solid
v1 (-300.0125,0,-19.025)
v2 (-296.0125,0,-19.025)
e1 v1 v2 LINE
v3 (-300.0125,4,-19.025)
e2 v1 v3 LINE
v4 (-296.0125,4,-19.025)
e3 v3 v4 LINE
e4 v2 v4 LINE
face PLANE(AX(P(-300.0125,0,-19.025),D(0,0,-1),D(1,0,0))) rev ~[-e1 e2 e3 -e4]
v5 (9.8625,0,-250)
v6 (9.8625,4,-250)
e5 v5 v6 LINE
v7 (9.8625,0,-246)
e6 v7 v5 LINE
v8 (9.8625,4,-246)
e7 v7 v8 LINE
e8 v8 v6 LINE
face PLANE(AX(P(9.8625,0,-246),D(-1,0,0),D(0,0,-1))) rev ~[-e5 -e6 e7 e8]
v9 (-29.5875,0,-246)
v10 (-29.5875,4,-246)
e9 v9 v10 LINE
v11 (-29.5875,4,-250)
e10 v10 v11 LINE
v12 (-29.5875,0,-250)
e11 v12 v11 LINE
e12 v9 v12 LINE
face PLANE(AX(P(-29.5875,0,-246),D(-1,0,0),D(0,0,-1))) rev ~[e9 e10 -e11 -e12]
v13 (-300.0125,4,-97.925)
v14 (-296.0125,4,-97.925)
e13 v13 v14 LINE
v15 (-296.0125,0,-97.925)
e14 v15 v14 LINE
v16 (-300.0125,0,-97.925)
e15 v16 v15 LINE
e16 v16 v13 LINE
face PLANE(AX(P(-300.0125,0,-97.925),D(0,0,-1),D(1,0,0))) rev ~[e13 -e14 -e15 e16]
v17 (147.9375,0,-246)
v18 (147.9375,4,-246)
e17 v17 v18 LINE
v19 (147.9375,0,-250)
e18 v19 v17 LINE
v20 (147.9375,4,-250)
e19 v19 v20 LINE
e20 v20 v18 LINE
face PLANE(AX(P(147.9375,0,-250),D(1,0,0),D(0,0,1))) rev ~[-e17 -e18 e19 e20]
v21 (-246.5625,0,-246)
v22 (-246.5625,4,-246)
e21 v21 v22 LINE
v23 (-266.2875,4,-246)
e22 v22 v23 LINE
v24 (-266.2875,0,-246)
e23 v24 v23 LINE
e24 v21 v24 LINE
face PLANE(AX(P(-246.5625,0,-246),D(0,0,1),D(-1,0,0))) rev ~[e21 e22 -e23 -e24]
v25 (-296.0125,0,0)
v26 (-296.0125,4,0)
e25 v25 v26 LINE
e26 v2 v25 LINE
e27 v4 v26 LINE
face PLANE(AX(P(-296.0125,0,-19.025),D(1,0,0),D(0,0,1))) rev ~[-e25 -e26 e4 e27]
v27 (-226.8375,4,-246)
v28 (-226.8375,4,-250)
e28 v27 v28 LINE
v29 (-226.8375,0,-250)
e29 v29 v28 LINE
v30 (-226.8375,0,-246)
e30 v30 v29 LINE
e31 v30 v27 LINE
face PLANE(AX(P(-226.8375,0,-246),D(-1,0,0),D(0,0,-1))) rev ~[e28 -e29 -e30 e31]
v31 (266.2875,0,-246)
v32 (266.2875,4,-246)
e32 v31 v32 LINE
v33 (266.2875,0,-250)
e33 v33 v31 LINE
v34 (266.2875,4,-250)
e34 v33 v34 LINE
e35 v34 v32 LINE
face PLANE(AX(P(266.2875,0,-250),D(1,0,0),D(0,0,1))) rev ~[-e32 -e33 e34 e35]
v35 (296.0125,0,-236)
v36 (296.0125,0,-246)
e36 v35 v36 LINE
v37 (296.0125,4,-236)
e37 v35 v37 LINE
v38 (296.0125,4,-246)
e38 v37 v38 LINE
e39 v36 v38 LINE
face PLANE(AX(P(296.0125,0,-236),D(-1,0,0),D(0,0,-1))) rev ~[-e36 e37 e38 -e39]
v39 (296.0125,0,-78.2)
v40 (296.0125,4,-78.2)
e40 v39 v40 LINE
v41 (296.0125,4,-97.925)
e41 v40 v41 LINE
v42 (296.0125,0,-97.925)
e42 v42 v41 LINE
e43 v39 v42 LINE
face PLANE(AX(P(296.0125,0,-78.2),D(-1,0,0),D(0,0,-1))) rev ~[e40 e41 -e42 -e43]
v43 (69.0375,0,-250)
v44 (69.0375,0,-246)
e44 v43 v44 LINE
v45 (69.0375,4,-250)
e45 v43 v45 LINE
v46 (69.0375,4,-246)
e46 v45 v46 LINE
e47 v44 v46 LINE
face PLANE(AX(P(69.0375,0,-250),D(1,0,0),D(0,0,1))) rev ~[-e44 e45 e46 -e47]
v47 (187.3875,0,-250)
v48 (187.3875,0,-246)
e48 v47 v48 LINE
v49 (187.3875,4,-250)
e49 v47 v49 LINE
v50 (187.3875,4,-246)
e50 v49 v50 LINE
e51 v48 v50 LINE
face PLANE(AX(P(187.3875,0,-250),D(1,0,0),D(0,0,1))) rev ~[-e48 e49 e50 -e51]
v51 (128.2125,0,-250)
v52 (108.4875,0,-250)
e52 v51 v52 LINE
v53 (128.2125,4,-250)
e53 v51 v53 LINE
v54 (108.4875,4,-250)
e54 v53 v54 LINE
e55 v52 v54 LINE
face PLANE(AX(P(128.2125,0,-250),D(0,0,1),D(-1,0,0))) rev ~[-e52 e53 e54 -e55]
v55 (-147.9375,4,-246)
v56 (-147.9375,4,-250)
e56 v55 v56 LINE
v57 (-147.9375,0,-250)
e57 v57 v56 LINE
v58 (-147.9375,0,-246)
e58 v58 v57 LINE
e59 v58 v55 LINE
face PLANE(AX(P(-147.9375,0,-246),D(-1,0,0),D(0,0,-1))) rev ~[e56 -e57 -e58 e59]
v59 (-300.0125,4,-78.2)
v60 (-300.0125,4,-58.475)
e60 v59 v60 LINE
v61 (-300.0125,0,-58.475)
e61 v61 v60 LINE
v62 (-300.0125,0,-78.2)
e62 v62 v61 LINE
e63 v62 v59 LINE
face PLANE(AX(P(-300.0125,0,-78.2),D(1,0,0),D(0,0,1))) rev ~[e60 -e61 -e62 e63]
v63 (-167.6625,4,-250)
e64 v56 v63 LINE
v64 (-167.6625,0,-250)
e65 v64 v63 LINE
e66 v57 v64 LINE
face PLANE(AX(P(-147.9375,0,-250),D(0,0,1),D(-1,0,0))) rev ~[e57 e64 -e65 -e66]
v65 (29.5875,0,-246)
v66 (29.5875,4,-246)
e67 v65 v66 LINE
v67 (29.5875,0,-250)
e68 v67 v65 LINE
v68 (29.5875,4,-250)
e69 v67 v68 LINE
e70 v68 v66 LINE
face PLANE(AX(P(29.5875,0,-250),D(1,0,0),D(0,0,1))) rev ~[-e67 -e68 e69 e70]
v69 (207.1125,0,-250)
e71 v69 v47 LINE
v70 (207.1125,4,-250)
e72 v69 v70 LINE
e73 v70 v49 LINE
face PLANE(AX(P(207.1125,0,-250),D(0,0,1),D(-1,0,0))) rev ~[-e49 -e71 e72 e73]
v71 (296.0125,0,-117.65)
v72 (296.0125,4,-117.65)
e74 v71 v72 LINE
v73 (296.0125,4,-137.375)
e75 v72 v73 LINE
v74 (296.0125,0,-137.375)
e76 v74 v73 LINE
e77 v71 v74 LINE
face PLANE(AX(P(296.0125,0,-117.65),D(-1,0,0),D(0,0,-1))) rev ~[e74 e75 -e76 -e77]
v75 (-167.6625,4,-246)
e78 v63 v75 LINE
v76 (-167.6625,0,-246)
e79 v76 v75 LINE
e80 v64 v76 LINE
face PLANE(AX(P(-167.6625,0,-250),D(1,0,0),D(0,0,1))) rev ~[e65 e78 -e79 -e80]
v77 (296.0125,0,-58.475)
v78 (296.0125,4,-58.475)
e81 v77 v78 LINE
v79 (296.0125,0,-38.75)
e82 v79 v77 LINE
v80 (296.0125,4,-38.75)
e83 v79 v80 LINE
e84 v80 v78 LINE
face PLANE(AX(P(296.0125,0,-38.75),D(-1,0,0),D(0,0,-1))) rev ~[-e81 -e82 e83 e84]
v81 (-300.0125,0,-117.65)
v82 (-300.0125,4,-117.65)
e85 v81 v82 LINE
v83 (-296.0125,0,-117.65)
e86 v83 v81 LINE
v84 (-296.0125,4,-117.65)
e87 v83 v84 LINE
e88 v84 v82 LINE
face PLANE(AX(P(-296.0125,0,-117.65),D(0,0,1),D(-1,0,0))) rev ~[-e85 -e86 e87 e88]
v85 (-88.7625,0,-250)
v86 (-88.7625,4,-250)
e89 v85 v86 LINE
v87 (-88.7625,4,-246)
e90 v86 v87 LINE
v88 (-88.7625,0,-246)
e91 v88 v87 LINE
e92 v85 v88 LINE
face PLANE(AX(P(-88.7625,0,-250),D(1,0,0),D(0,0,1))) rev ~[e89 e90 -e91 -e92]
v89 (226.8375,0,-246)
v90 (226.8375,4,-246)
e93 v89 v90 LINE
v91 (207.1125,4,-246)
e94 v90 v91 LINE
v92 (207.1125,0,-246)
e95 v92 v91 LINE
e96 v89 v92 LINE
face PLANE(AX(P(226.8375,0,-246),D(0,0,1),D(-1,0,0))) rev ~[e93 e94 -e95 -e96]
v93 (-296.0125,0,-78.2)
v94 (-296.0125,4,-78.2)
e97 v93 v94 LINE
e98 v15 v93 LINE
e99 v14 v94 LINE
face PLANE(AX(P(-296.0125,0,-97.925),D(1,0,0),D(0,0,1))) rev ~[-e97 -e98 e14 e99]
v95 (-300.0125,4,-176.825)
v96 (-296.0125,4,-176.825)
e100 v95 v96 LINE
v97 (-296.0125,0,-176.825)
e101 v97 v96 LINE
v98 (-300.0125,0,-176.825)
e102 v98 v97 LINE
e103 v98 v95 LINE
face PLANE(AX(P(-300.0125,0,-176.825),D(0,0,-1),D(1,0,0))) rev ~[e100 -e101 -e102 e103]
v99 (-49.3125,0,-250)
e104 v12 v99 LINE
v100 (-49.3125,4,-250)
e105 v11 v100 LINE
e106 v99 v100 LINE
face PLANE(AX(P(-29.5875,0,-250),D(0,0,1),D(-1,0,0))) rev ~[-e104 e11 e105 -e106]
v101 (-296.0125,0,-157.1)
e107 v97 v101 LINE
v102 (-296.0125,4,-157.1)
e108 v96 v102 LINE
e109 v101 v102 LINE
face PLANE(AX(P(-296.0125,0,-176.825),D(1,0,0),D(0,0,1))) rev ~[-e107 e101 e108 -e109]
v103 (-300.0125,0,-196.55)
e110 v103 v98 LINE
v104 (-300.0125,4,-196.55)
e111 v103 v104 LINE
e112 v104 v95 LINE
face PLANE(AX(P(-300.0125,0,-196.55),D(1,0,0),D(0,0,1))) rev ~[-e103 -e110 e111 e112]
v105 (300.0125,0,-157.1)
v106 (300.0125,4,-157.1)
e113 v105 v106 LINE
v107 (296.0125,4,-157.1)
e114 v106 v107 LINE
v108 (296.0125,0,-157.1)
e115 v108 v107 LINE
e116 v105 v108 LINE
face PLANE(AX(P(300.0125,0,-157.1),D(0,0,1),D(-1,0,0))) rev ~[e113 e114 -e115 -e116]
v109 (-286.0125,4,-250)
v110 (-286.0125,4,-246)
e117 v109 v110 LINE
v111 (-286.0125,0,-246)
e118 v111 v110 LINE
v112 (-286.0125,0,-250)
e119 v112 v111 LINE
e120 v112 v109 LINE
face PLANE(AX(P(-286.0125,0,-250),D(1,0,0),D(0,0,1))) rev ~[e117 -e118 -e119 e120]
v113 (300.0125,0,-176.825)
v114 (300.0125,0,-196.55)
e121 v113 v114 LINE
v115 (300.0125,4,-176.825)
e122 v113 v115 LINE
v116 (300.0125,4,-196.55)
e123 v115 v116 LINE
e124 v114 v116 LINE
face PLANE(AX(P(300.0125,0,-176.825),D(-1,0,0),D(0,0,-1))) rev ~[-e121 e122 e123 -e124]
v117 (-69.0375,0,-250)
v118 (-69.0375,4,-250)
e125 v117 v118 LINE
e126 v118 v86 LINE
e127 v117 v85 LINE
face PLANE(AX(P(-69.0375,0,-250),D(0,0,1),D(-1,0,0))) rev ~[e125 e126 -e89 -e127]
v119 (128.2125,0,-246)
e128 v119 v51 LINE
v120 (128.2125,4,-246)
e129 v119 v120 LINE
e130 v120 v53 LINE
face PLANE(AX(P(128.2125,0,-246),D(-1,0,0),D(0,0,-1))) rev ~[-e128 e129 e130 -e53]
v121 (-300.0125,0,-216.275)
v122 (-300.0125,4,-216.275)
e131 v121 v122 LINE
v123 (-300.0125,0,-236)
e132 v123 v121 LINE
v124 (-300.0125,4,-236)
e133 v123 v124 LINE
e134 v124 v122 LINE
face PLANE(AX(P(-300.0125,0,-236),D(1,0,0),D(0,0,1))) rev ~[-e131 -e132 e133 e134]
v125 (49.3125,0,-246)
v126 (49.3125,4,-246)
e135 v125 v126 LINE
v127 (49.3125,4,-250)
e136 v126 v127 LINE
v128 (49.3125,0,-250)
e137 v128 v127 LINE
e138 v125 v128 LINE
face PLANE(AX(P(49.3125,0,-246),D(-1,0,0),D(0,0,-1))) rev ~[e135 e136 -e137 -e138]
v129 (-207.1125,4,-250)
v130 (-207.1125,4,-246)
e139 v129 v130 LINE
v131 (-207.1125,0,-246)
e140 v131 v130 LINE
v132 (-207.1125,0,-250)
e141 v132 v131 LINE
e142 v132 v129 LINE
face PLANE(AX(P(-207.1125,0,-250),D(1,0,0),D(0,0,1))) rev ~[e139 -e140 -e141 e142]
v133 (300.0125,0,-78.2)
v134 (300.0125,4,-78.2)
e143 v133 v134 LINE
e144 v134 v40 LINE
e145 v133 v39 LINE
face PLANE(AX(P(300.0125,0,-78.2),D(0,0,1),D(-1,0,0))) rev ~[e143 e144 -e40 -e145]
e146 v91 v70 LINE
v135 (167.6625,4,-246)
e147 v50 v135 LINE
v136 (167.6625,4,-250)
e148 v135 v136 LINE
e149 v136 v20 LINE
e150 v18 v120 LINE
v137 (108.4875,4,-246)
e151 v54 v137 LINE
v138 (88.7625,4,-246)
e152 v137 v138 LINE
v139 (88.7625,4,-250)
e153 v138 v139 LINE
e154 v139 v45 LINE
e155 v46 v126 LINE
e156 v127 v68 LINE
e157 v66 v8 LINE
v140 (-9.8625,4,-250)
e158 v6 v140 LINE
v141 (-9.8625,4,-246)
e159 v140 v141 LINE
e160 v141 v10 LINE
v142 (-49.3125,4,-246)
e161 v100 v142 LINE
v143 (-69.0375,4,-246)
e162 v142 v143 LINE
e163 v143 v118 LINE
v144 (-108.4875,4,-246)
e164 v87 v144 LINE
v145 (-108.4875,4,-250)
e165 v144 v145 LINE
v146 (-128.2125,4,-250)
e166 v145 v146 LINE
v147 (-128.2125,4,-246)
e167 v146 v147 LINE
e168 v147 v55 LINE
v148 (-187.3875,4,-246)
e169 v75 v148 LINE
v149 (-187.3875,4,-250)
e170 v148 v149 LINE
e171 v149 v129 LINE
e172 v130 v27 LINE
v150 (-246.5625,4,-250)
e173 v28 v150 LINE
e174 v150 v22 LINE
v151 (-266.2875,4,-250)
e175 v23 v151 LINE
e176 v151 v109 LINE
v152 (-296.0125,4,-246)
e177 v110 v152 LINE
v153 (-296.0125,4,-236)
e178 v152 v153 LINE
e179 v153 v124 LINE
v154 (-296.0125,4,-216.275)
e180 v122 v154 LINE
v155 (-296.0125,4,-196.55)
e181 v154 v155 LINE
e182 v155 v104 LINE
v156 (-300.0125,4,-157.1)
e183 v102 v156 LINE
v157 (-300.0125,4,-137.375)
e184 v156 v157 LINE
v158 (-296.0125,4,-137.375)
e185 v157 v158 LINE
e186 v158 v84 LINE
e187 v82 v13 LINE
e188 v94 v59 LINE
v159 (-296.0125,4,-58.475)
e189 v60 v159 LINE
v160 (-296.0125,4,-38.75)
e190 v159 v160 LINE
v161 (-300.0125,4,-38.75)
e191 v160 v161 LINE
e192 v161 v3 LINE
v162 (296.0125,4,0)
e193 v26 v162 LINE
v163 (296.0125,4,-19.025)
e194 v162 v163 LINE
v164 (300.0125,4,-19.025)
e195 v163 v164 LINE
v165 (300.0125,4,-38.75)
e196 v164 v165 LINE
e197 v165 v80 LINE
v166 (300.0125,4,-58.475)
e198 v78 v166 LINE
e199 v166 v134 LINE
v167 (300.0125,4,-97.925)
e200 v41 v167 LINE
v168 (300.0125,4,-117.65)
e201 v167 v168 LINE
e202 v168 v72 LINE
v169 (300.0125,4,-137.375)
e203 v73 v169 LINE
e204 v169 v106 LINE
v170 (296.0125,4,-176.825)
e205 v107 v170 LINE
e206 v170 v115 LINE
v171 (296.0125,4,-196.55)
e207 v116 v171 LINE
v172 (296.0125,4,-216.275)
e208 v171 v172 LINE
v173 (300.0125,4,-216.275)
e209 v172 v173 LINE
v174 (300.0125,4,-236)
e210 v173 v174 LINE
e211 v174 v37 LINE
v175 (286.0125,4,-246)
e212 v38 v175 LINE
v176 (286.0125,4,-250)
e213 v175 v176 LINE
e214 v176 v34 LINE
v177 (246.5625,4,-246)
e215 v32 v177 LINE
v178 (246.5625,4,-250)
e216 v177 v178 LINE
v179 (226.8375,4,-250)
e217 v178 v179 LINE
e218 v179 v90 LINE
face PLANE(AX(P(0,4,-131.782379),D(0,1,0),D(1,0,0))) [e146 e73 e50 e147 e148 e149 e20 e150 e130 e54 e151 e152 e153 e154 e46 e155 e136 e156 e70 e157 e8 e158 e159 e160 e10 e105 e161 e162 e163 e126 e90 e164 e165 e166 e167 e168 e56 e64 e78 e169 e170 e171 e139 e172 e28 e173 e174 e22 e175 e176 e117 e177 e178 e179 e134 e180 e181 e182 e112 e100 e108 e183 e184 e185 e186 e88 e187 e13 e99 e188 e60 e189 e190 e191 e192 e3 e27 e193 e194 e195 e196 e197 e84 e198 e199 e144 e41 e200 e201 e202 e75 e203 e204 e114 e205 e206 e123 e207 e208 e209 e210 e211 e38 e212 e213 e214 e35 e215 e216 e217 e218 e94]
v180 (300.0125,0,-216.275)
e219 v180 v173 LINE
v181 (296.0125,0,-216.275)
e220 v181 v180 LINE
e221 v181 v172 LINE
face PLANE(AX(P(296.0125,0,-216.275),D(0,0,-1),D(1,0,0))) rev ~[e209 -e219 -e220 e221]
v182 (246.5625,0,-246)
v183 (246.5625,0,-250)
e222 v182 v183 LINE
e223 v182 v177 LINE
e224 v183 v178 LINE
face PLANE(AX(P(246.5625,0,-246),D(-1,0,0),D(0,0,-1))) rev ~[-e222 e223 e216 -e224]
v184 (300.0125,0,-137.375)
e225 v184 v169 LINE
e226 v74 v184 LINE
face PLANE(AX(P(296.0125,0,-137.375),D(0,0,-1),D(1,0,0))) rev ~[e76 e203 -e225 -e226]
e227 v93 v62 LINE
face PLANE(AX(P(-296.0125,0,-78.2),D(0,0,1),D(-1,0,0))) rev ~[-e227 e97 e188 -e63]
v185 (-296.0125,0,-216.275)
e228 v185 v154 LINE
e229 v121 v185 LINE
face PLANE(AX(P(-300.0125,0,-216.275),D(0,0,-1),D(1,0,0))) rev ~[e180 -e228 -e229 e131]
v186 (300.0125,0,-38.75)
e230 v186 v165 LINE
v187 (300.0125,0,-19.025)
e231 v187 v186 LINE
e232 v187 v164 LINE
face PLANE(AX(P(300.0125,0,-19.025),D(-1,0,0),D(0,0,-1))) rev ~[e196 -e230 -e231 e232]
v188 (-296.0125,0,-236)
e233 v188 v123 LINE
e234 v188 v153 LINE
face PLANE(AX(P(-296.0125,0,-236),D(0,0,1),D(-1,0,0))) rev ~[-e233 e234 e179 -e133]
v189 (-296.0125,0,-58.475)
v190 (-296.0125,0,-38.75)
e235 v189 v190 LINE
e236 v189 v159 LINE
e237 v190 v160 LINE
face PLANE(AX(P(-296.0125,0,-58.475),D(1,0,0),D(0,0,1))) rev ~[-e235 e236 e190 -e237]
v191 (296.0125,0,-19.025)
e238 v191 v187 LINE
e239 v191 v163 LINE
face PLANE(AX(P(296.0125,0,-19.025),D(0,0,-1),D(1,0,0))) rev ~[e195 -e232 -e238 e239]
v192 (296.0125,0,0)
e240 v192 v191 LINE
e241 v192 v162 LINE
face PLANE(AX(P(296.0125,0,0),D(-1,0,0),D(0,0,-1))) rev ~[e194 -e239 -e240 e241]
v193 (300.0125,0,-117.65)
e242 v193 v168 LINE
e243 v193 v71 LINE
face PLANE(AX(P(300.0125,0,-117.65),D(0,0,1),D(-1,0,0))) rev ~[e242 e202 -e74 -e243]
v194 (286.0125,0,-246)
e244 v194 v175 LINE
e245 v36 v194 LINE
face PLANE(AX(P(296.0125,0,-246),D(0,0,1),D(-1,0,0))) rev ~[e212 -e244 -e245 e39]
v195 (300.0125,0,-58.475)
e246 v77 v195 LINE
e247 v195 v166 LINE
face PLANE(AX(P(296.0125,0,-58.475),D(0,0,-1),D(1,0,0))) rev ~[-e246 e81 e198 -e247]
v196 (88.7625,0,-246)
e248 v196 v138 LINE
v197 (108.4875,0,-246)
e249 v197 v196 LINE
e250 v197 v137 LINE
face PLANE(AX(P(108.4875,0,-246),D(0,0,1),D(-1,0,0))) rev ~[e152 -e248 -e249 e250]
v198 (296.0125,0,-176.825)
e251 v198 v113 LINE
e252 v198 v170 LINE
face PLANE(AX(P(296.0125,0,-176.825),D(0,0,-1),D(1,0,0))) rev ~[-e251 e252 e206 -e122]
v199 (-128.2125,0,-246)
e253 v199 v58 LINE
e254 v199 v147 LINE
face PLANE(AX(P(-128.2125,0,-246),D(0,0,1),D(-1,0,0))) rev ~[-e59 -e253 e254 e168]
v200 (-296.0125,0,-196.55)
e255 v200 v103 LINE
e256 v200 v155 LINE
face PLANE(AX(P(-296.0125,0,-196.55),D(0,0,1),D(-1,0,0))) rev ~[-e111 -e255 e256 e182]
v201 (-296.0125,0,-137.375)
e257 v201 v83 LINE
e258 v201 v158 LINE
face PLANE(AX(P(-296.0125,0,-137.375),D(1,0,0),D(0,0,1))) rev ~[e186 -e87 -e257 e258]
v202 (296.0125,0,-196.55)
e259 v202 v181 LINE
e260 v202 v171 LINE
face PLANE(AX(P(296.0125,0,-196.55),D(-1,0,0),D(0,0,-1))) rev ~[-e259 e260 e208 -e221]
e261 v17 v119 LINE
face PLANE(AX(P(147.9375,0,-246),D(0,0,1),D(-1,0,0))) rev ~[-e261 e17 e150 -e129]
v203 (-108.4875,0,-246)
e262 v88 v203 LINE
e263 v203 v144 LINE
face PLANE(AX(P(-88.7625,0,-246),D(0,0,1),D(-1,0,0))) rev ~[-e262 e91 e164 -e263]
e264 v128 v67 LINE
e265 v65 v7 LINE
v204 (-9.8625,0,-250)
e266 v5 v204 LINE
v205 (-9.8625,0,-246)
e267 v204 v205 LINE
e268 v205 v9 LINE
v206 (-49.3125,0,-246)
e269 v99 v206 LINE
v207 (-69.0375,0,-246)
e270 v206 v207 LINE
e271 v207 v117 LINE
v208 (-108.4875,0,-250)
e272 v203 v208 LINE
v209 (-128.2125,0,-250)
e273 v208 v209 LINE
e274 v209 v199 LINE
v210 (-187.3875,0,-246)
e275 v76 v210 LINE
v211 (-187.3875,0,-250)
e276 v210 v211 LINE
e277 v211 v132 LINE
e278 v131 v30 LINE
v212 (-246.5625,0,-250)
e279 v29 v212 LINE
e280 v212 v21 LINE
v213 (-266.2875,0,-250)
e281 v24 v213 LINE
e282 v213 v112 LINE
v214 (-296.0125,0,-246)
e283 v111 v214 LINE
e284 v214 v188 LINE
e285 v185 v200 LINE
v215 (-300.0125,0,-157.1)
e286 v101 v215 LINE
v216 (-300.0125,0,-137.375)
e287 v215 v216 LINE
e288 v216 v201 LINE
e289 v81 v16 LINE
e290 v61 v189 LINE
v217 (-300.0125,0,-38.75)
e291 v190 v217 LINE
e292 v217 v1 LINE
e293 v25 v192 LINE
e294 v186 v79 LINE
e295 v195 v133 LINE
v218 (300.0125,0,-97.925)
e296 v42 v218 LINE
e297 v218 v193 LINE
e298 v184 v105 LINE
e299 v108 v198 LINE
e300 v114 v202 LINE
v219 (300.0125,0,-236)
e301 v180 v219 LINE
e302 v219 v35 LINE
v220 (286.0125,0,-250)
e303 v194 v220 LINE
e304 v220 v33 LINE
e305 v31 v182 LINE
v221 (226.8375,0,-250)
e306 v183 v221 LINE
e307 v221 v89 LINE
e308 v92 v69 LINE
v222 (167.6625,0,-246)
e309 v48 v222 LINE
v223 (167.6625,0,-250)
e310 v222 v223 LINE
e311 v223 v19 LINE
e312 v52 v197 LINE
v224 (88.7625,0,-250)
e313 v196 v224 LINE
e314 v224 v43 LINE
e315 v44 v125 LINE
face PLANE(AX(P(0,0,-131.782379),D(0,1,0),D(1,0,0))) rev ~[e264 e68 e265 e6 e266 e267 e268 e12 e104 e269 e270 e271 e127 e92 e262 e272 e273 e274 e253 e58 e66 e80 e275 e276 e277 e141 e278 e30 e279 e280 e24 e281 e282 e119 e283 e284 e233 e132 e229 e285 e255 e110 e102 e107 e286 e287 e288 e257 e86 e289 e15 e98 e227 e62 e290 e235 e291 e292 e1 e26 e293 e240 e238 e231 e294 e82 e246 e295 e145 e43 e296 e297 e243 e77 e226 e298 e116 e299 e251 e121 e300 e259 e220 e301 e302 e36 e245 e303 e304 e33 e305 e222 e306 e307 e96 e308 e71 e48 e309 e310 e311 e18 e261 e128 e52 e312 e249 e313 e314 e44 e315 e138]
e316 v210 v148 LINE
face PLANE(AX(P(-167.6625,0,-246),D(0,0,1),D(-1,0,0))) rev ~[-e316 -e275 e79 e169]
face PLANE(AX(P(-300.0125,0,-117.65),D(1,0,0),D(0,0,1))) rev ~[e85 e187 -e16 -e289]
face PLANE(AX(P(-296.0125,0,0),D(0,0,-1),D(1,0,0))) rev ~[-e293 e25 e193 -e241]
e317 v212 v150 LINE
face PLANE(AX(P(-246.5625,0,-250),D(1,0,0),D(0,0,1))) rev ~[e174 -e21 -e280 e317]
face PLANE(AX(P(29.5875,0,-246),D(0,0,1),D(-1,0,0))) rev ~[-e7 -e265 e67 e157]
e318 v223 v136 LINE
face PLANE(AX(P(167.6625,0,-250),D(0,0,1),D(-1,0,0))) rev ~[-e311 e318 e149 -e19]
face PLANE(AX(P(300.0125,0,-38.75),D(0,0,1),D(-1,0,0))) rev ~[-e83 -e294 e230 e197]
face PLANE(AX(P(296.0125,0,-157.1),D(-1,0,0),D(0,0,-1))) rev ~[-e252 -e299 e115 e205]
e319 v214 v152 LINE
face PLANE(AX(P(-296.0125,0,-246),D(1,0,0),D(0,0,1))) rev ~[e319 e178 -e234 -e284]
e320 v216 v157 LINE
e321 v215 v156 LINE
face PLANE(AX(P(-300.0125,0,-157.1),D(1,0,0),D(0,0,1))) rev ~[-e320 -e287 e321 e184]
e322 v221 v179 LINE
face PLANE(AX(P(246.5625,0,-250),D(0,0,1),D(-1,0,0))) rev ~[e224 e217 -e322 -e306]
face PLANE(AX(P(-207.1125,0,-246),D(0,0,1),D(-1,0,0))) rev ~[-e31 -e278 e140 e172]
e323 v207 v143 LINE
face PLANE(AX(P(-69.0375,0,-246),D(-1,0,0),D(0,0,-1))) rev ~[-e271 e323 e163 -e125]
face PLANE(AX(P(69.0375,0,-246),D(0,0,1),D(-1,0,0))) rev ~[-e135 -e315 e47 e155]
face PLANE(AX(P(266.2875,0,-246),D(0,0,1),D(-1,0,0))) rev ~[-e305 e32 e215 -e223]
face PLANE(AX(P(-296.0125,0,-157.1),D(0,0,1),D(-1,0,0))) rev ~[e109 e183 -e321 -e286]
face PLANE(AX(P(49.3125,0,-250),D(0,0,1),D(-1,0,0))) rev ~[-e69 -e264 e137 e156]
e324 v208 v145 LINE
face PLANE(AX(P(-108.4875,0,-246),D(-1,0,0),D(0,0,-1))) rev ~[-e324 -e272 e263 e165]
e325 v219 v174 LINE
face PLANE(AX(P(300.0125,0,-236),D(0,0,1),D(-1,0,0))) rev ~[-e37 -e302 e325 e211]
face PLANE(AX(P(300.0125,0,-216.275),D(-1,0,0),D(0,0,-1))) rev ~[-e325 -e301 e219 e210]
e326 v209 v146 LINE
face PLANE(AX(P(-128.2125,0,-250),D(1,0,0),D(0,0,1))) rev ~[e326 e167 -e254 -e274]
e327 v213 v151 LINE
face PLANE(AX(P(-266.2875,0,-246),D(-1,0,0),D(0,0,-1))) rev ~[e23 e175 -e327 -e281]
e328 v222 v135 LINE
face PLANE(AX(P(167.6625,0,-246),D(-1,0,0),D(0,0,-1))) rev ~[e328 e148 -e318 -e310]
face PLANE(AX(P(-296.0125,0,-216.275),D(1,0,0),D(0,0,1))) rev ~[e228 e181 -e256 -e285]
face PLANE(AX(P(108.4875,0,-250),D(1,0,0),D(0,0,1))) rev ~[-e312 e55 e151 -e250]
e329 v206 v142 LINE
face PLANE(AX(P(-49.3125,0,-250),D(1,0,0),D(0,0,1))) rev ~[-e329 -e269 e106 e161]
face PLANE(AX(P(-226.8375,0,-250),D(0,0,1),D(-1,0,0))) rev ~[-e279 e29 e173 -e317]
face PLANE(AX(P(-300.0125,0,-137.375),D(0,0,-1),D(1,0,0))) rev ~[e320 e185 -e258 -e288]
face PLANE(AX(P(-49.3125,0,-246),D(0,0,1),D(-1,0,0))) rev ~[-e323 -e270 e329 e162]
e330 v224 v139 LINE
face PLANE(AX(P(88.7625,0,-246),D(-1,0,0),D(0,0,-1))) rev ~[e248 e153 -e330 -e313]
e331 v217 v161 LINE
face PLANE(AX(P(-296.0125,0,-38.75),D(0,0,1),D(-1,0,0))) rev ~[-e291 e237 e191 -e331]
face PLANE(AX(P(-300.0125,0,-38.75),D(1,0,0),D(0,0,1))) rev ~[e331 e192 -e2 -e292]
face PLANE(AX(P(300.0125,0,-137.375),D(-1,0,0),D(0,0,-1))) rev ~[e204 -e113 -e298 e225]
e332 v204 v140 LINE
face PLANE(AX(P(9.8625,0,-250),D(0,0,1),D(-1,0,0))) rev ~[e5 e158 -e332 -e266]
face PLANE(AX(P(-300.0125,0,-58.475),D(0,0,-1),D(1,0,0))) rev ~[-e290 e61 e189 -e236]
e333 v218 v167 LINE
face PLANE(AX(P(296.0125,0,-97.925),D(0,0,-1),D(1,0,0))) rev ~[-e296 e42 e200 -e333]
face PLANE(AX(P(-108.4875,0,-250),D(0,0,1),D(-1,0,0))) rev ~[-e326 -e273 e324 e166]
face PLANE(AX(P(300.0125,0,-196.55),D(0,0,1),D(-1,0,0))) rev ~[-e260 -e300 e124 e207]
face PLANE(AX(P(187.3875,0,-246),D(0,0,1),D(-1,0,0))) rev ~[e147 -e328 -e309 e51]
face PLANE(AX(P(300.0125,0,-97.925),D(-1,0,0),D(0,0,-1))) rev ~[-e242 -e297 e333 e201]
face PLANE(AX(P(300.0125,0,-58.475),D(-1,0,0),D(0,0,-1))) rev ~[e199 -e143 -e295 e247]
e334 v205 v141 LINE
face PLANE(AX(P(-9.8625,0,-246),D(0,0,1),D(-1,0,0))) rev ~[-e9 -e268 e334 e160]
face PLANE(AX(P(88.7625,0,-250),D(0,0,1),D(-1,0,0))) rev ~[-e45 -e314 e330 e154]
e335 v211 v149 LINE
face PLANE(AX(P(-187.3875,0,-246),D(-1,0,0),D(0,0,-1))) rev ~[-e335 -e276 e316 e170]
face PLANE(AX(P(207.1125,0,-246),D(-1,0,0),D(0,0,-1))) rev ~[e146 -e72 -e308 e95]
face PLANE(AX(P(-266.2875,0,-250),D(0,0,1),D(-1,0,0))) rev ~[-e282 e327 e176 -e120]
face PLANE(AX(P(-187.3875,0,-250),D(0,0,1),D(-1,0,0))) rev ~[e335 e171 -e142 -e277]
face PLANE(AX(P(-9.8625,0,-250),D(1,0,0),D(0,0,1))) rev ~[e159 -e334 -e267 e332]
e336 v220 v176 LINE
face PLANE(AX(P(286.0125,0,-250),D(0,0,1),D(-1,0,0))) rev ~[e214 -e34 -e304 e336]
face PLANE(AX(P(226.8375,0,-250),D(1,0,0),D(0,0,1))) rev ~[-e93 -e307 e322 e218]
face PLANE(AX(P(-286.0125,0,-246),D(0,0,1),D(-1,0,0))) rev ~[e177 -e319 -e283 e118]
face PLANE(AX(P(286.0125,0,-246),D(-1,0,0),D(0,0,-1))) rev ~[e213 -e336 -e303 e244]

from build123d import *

# Parameters (mm, degrees)
BOSS_EXTRUDE1_DEPTH = 4


with BuildPart() as part:
    # Sketch1 → Boss-Extrude1 (new body)
    with BuildSketch(Plane(origin=(0, 0, 0), x_dir=(1, 0, 0), z_dir=(0, 1, 0))):
        Polygon((9.8625, 250), (-9.8625, 250), (-9.8625, 246), (-29.5875, 246), (-29.5875, 250), (-49.3125, 250), (-49.3125, 246), (-69.0375, 246), (-69.0375, 250), (-88.7625, 250), (-88.7625, 246), (-108.4875, 246), (-108.4875, 250), (-128.2125, 250), (-128.2125, 246), (-147.9375, 246), (-147.9375, 250), (-167.6625, 250), (-167.6625, 246), (-187.3875, 246), (-187.3875, 250), (-207.1125, 250), (-207.1125, 246), (-226.8375, 246), (-226.8375, 250), (-246.5625, 250), (-246.5625, 246), (-266.2875, 246), (-266.2875, 250), (-286.0125, 250), (-286.0125, 246), (-296.0125, 246), (-296.0125, 236), (-300.0125, 236), (-300.0125, 216.275), (-296.0125, 216.275), (-296.0125, 196.55), (-300.0125, 196.55), (-300.0125, 176.825), (-296.0125, 176.825), (-296.0125, 157.1), (-300.0125, 157.1), (-300.0125, 137.375), (-296.0125, 137.375), (-296.0125, 117.65), (-300.0125, 117.65), (-300.0125, 97.925), (-296.0125, 97.925), (-296.0125, 78.2), (-300.0125, 78.2), (-300.0125, 58.475), (-296.0125, 58.475), (-296.0125, 38.75), (-300.0125, 38.75), (-300.0125, 19.025), (-296.0125, 19.025), (-296.0125, 0), (296.0125, 0), (296.0125, 19.025), (300.0125, 19.025), (300.0125, 38.75), (296.0125, 38.75), (296.0125, 58.475), (300.0125, 58.475), (300.0125, 78.2), (296.0125, 78.2), (296.0125, 97.925), (300.0125, 97.925), (300.0125, 117.65), (296.0125, 117.65), (296.0125, 137.375), (300.0125, 137.375), (300.0125, 157.1), (296.0125, 157.1), (296.0125, 176.825), (300.0125, 176.825), (300.0125, 196.55), (296.0125, 196.55), (296.0125, 216.275), (300.0125, 216.275), (300.0125, 236), (296.0125, 236), (296.0125, 246), (286.0125, 246), (286.0125, 250), (266.2875, 250), (266.2875, 246), (246.5625, 246), (246.5625, 250), (226.8375, 250), (226.8375, 246), (207.1125, 246), (207.1125, 250), (187.3875, 250), (187.3875, 246), (167.6625, 246), (167.6625, 250), (147.9375, 250), (147.9375, 246), (128.2125, 246), (128.2125, 250), (108.4875, 250), (108.4875, 246), (88.7625, 246), (88.7625, 250), (69.0375, 250), (69.0375, 246), (49.3125, 246), (49.3125, 250), (29.5875, 250), (29.5875, 246), (9.8625, 246), align=None)
    extrude(amount=BOSS_EXTRUDE1_DEPTH)


solid = part.part
